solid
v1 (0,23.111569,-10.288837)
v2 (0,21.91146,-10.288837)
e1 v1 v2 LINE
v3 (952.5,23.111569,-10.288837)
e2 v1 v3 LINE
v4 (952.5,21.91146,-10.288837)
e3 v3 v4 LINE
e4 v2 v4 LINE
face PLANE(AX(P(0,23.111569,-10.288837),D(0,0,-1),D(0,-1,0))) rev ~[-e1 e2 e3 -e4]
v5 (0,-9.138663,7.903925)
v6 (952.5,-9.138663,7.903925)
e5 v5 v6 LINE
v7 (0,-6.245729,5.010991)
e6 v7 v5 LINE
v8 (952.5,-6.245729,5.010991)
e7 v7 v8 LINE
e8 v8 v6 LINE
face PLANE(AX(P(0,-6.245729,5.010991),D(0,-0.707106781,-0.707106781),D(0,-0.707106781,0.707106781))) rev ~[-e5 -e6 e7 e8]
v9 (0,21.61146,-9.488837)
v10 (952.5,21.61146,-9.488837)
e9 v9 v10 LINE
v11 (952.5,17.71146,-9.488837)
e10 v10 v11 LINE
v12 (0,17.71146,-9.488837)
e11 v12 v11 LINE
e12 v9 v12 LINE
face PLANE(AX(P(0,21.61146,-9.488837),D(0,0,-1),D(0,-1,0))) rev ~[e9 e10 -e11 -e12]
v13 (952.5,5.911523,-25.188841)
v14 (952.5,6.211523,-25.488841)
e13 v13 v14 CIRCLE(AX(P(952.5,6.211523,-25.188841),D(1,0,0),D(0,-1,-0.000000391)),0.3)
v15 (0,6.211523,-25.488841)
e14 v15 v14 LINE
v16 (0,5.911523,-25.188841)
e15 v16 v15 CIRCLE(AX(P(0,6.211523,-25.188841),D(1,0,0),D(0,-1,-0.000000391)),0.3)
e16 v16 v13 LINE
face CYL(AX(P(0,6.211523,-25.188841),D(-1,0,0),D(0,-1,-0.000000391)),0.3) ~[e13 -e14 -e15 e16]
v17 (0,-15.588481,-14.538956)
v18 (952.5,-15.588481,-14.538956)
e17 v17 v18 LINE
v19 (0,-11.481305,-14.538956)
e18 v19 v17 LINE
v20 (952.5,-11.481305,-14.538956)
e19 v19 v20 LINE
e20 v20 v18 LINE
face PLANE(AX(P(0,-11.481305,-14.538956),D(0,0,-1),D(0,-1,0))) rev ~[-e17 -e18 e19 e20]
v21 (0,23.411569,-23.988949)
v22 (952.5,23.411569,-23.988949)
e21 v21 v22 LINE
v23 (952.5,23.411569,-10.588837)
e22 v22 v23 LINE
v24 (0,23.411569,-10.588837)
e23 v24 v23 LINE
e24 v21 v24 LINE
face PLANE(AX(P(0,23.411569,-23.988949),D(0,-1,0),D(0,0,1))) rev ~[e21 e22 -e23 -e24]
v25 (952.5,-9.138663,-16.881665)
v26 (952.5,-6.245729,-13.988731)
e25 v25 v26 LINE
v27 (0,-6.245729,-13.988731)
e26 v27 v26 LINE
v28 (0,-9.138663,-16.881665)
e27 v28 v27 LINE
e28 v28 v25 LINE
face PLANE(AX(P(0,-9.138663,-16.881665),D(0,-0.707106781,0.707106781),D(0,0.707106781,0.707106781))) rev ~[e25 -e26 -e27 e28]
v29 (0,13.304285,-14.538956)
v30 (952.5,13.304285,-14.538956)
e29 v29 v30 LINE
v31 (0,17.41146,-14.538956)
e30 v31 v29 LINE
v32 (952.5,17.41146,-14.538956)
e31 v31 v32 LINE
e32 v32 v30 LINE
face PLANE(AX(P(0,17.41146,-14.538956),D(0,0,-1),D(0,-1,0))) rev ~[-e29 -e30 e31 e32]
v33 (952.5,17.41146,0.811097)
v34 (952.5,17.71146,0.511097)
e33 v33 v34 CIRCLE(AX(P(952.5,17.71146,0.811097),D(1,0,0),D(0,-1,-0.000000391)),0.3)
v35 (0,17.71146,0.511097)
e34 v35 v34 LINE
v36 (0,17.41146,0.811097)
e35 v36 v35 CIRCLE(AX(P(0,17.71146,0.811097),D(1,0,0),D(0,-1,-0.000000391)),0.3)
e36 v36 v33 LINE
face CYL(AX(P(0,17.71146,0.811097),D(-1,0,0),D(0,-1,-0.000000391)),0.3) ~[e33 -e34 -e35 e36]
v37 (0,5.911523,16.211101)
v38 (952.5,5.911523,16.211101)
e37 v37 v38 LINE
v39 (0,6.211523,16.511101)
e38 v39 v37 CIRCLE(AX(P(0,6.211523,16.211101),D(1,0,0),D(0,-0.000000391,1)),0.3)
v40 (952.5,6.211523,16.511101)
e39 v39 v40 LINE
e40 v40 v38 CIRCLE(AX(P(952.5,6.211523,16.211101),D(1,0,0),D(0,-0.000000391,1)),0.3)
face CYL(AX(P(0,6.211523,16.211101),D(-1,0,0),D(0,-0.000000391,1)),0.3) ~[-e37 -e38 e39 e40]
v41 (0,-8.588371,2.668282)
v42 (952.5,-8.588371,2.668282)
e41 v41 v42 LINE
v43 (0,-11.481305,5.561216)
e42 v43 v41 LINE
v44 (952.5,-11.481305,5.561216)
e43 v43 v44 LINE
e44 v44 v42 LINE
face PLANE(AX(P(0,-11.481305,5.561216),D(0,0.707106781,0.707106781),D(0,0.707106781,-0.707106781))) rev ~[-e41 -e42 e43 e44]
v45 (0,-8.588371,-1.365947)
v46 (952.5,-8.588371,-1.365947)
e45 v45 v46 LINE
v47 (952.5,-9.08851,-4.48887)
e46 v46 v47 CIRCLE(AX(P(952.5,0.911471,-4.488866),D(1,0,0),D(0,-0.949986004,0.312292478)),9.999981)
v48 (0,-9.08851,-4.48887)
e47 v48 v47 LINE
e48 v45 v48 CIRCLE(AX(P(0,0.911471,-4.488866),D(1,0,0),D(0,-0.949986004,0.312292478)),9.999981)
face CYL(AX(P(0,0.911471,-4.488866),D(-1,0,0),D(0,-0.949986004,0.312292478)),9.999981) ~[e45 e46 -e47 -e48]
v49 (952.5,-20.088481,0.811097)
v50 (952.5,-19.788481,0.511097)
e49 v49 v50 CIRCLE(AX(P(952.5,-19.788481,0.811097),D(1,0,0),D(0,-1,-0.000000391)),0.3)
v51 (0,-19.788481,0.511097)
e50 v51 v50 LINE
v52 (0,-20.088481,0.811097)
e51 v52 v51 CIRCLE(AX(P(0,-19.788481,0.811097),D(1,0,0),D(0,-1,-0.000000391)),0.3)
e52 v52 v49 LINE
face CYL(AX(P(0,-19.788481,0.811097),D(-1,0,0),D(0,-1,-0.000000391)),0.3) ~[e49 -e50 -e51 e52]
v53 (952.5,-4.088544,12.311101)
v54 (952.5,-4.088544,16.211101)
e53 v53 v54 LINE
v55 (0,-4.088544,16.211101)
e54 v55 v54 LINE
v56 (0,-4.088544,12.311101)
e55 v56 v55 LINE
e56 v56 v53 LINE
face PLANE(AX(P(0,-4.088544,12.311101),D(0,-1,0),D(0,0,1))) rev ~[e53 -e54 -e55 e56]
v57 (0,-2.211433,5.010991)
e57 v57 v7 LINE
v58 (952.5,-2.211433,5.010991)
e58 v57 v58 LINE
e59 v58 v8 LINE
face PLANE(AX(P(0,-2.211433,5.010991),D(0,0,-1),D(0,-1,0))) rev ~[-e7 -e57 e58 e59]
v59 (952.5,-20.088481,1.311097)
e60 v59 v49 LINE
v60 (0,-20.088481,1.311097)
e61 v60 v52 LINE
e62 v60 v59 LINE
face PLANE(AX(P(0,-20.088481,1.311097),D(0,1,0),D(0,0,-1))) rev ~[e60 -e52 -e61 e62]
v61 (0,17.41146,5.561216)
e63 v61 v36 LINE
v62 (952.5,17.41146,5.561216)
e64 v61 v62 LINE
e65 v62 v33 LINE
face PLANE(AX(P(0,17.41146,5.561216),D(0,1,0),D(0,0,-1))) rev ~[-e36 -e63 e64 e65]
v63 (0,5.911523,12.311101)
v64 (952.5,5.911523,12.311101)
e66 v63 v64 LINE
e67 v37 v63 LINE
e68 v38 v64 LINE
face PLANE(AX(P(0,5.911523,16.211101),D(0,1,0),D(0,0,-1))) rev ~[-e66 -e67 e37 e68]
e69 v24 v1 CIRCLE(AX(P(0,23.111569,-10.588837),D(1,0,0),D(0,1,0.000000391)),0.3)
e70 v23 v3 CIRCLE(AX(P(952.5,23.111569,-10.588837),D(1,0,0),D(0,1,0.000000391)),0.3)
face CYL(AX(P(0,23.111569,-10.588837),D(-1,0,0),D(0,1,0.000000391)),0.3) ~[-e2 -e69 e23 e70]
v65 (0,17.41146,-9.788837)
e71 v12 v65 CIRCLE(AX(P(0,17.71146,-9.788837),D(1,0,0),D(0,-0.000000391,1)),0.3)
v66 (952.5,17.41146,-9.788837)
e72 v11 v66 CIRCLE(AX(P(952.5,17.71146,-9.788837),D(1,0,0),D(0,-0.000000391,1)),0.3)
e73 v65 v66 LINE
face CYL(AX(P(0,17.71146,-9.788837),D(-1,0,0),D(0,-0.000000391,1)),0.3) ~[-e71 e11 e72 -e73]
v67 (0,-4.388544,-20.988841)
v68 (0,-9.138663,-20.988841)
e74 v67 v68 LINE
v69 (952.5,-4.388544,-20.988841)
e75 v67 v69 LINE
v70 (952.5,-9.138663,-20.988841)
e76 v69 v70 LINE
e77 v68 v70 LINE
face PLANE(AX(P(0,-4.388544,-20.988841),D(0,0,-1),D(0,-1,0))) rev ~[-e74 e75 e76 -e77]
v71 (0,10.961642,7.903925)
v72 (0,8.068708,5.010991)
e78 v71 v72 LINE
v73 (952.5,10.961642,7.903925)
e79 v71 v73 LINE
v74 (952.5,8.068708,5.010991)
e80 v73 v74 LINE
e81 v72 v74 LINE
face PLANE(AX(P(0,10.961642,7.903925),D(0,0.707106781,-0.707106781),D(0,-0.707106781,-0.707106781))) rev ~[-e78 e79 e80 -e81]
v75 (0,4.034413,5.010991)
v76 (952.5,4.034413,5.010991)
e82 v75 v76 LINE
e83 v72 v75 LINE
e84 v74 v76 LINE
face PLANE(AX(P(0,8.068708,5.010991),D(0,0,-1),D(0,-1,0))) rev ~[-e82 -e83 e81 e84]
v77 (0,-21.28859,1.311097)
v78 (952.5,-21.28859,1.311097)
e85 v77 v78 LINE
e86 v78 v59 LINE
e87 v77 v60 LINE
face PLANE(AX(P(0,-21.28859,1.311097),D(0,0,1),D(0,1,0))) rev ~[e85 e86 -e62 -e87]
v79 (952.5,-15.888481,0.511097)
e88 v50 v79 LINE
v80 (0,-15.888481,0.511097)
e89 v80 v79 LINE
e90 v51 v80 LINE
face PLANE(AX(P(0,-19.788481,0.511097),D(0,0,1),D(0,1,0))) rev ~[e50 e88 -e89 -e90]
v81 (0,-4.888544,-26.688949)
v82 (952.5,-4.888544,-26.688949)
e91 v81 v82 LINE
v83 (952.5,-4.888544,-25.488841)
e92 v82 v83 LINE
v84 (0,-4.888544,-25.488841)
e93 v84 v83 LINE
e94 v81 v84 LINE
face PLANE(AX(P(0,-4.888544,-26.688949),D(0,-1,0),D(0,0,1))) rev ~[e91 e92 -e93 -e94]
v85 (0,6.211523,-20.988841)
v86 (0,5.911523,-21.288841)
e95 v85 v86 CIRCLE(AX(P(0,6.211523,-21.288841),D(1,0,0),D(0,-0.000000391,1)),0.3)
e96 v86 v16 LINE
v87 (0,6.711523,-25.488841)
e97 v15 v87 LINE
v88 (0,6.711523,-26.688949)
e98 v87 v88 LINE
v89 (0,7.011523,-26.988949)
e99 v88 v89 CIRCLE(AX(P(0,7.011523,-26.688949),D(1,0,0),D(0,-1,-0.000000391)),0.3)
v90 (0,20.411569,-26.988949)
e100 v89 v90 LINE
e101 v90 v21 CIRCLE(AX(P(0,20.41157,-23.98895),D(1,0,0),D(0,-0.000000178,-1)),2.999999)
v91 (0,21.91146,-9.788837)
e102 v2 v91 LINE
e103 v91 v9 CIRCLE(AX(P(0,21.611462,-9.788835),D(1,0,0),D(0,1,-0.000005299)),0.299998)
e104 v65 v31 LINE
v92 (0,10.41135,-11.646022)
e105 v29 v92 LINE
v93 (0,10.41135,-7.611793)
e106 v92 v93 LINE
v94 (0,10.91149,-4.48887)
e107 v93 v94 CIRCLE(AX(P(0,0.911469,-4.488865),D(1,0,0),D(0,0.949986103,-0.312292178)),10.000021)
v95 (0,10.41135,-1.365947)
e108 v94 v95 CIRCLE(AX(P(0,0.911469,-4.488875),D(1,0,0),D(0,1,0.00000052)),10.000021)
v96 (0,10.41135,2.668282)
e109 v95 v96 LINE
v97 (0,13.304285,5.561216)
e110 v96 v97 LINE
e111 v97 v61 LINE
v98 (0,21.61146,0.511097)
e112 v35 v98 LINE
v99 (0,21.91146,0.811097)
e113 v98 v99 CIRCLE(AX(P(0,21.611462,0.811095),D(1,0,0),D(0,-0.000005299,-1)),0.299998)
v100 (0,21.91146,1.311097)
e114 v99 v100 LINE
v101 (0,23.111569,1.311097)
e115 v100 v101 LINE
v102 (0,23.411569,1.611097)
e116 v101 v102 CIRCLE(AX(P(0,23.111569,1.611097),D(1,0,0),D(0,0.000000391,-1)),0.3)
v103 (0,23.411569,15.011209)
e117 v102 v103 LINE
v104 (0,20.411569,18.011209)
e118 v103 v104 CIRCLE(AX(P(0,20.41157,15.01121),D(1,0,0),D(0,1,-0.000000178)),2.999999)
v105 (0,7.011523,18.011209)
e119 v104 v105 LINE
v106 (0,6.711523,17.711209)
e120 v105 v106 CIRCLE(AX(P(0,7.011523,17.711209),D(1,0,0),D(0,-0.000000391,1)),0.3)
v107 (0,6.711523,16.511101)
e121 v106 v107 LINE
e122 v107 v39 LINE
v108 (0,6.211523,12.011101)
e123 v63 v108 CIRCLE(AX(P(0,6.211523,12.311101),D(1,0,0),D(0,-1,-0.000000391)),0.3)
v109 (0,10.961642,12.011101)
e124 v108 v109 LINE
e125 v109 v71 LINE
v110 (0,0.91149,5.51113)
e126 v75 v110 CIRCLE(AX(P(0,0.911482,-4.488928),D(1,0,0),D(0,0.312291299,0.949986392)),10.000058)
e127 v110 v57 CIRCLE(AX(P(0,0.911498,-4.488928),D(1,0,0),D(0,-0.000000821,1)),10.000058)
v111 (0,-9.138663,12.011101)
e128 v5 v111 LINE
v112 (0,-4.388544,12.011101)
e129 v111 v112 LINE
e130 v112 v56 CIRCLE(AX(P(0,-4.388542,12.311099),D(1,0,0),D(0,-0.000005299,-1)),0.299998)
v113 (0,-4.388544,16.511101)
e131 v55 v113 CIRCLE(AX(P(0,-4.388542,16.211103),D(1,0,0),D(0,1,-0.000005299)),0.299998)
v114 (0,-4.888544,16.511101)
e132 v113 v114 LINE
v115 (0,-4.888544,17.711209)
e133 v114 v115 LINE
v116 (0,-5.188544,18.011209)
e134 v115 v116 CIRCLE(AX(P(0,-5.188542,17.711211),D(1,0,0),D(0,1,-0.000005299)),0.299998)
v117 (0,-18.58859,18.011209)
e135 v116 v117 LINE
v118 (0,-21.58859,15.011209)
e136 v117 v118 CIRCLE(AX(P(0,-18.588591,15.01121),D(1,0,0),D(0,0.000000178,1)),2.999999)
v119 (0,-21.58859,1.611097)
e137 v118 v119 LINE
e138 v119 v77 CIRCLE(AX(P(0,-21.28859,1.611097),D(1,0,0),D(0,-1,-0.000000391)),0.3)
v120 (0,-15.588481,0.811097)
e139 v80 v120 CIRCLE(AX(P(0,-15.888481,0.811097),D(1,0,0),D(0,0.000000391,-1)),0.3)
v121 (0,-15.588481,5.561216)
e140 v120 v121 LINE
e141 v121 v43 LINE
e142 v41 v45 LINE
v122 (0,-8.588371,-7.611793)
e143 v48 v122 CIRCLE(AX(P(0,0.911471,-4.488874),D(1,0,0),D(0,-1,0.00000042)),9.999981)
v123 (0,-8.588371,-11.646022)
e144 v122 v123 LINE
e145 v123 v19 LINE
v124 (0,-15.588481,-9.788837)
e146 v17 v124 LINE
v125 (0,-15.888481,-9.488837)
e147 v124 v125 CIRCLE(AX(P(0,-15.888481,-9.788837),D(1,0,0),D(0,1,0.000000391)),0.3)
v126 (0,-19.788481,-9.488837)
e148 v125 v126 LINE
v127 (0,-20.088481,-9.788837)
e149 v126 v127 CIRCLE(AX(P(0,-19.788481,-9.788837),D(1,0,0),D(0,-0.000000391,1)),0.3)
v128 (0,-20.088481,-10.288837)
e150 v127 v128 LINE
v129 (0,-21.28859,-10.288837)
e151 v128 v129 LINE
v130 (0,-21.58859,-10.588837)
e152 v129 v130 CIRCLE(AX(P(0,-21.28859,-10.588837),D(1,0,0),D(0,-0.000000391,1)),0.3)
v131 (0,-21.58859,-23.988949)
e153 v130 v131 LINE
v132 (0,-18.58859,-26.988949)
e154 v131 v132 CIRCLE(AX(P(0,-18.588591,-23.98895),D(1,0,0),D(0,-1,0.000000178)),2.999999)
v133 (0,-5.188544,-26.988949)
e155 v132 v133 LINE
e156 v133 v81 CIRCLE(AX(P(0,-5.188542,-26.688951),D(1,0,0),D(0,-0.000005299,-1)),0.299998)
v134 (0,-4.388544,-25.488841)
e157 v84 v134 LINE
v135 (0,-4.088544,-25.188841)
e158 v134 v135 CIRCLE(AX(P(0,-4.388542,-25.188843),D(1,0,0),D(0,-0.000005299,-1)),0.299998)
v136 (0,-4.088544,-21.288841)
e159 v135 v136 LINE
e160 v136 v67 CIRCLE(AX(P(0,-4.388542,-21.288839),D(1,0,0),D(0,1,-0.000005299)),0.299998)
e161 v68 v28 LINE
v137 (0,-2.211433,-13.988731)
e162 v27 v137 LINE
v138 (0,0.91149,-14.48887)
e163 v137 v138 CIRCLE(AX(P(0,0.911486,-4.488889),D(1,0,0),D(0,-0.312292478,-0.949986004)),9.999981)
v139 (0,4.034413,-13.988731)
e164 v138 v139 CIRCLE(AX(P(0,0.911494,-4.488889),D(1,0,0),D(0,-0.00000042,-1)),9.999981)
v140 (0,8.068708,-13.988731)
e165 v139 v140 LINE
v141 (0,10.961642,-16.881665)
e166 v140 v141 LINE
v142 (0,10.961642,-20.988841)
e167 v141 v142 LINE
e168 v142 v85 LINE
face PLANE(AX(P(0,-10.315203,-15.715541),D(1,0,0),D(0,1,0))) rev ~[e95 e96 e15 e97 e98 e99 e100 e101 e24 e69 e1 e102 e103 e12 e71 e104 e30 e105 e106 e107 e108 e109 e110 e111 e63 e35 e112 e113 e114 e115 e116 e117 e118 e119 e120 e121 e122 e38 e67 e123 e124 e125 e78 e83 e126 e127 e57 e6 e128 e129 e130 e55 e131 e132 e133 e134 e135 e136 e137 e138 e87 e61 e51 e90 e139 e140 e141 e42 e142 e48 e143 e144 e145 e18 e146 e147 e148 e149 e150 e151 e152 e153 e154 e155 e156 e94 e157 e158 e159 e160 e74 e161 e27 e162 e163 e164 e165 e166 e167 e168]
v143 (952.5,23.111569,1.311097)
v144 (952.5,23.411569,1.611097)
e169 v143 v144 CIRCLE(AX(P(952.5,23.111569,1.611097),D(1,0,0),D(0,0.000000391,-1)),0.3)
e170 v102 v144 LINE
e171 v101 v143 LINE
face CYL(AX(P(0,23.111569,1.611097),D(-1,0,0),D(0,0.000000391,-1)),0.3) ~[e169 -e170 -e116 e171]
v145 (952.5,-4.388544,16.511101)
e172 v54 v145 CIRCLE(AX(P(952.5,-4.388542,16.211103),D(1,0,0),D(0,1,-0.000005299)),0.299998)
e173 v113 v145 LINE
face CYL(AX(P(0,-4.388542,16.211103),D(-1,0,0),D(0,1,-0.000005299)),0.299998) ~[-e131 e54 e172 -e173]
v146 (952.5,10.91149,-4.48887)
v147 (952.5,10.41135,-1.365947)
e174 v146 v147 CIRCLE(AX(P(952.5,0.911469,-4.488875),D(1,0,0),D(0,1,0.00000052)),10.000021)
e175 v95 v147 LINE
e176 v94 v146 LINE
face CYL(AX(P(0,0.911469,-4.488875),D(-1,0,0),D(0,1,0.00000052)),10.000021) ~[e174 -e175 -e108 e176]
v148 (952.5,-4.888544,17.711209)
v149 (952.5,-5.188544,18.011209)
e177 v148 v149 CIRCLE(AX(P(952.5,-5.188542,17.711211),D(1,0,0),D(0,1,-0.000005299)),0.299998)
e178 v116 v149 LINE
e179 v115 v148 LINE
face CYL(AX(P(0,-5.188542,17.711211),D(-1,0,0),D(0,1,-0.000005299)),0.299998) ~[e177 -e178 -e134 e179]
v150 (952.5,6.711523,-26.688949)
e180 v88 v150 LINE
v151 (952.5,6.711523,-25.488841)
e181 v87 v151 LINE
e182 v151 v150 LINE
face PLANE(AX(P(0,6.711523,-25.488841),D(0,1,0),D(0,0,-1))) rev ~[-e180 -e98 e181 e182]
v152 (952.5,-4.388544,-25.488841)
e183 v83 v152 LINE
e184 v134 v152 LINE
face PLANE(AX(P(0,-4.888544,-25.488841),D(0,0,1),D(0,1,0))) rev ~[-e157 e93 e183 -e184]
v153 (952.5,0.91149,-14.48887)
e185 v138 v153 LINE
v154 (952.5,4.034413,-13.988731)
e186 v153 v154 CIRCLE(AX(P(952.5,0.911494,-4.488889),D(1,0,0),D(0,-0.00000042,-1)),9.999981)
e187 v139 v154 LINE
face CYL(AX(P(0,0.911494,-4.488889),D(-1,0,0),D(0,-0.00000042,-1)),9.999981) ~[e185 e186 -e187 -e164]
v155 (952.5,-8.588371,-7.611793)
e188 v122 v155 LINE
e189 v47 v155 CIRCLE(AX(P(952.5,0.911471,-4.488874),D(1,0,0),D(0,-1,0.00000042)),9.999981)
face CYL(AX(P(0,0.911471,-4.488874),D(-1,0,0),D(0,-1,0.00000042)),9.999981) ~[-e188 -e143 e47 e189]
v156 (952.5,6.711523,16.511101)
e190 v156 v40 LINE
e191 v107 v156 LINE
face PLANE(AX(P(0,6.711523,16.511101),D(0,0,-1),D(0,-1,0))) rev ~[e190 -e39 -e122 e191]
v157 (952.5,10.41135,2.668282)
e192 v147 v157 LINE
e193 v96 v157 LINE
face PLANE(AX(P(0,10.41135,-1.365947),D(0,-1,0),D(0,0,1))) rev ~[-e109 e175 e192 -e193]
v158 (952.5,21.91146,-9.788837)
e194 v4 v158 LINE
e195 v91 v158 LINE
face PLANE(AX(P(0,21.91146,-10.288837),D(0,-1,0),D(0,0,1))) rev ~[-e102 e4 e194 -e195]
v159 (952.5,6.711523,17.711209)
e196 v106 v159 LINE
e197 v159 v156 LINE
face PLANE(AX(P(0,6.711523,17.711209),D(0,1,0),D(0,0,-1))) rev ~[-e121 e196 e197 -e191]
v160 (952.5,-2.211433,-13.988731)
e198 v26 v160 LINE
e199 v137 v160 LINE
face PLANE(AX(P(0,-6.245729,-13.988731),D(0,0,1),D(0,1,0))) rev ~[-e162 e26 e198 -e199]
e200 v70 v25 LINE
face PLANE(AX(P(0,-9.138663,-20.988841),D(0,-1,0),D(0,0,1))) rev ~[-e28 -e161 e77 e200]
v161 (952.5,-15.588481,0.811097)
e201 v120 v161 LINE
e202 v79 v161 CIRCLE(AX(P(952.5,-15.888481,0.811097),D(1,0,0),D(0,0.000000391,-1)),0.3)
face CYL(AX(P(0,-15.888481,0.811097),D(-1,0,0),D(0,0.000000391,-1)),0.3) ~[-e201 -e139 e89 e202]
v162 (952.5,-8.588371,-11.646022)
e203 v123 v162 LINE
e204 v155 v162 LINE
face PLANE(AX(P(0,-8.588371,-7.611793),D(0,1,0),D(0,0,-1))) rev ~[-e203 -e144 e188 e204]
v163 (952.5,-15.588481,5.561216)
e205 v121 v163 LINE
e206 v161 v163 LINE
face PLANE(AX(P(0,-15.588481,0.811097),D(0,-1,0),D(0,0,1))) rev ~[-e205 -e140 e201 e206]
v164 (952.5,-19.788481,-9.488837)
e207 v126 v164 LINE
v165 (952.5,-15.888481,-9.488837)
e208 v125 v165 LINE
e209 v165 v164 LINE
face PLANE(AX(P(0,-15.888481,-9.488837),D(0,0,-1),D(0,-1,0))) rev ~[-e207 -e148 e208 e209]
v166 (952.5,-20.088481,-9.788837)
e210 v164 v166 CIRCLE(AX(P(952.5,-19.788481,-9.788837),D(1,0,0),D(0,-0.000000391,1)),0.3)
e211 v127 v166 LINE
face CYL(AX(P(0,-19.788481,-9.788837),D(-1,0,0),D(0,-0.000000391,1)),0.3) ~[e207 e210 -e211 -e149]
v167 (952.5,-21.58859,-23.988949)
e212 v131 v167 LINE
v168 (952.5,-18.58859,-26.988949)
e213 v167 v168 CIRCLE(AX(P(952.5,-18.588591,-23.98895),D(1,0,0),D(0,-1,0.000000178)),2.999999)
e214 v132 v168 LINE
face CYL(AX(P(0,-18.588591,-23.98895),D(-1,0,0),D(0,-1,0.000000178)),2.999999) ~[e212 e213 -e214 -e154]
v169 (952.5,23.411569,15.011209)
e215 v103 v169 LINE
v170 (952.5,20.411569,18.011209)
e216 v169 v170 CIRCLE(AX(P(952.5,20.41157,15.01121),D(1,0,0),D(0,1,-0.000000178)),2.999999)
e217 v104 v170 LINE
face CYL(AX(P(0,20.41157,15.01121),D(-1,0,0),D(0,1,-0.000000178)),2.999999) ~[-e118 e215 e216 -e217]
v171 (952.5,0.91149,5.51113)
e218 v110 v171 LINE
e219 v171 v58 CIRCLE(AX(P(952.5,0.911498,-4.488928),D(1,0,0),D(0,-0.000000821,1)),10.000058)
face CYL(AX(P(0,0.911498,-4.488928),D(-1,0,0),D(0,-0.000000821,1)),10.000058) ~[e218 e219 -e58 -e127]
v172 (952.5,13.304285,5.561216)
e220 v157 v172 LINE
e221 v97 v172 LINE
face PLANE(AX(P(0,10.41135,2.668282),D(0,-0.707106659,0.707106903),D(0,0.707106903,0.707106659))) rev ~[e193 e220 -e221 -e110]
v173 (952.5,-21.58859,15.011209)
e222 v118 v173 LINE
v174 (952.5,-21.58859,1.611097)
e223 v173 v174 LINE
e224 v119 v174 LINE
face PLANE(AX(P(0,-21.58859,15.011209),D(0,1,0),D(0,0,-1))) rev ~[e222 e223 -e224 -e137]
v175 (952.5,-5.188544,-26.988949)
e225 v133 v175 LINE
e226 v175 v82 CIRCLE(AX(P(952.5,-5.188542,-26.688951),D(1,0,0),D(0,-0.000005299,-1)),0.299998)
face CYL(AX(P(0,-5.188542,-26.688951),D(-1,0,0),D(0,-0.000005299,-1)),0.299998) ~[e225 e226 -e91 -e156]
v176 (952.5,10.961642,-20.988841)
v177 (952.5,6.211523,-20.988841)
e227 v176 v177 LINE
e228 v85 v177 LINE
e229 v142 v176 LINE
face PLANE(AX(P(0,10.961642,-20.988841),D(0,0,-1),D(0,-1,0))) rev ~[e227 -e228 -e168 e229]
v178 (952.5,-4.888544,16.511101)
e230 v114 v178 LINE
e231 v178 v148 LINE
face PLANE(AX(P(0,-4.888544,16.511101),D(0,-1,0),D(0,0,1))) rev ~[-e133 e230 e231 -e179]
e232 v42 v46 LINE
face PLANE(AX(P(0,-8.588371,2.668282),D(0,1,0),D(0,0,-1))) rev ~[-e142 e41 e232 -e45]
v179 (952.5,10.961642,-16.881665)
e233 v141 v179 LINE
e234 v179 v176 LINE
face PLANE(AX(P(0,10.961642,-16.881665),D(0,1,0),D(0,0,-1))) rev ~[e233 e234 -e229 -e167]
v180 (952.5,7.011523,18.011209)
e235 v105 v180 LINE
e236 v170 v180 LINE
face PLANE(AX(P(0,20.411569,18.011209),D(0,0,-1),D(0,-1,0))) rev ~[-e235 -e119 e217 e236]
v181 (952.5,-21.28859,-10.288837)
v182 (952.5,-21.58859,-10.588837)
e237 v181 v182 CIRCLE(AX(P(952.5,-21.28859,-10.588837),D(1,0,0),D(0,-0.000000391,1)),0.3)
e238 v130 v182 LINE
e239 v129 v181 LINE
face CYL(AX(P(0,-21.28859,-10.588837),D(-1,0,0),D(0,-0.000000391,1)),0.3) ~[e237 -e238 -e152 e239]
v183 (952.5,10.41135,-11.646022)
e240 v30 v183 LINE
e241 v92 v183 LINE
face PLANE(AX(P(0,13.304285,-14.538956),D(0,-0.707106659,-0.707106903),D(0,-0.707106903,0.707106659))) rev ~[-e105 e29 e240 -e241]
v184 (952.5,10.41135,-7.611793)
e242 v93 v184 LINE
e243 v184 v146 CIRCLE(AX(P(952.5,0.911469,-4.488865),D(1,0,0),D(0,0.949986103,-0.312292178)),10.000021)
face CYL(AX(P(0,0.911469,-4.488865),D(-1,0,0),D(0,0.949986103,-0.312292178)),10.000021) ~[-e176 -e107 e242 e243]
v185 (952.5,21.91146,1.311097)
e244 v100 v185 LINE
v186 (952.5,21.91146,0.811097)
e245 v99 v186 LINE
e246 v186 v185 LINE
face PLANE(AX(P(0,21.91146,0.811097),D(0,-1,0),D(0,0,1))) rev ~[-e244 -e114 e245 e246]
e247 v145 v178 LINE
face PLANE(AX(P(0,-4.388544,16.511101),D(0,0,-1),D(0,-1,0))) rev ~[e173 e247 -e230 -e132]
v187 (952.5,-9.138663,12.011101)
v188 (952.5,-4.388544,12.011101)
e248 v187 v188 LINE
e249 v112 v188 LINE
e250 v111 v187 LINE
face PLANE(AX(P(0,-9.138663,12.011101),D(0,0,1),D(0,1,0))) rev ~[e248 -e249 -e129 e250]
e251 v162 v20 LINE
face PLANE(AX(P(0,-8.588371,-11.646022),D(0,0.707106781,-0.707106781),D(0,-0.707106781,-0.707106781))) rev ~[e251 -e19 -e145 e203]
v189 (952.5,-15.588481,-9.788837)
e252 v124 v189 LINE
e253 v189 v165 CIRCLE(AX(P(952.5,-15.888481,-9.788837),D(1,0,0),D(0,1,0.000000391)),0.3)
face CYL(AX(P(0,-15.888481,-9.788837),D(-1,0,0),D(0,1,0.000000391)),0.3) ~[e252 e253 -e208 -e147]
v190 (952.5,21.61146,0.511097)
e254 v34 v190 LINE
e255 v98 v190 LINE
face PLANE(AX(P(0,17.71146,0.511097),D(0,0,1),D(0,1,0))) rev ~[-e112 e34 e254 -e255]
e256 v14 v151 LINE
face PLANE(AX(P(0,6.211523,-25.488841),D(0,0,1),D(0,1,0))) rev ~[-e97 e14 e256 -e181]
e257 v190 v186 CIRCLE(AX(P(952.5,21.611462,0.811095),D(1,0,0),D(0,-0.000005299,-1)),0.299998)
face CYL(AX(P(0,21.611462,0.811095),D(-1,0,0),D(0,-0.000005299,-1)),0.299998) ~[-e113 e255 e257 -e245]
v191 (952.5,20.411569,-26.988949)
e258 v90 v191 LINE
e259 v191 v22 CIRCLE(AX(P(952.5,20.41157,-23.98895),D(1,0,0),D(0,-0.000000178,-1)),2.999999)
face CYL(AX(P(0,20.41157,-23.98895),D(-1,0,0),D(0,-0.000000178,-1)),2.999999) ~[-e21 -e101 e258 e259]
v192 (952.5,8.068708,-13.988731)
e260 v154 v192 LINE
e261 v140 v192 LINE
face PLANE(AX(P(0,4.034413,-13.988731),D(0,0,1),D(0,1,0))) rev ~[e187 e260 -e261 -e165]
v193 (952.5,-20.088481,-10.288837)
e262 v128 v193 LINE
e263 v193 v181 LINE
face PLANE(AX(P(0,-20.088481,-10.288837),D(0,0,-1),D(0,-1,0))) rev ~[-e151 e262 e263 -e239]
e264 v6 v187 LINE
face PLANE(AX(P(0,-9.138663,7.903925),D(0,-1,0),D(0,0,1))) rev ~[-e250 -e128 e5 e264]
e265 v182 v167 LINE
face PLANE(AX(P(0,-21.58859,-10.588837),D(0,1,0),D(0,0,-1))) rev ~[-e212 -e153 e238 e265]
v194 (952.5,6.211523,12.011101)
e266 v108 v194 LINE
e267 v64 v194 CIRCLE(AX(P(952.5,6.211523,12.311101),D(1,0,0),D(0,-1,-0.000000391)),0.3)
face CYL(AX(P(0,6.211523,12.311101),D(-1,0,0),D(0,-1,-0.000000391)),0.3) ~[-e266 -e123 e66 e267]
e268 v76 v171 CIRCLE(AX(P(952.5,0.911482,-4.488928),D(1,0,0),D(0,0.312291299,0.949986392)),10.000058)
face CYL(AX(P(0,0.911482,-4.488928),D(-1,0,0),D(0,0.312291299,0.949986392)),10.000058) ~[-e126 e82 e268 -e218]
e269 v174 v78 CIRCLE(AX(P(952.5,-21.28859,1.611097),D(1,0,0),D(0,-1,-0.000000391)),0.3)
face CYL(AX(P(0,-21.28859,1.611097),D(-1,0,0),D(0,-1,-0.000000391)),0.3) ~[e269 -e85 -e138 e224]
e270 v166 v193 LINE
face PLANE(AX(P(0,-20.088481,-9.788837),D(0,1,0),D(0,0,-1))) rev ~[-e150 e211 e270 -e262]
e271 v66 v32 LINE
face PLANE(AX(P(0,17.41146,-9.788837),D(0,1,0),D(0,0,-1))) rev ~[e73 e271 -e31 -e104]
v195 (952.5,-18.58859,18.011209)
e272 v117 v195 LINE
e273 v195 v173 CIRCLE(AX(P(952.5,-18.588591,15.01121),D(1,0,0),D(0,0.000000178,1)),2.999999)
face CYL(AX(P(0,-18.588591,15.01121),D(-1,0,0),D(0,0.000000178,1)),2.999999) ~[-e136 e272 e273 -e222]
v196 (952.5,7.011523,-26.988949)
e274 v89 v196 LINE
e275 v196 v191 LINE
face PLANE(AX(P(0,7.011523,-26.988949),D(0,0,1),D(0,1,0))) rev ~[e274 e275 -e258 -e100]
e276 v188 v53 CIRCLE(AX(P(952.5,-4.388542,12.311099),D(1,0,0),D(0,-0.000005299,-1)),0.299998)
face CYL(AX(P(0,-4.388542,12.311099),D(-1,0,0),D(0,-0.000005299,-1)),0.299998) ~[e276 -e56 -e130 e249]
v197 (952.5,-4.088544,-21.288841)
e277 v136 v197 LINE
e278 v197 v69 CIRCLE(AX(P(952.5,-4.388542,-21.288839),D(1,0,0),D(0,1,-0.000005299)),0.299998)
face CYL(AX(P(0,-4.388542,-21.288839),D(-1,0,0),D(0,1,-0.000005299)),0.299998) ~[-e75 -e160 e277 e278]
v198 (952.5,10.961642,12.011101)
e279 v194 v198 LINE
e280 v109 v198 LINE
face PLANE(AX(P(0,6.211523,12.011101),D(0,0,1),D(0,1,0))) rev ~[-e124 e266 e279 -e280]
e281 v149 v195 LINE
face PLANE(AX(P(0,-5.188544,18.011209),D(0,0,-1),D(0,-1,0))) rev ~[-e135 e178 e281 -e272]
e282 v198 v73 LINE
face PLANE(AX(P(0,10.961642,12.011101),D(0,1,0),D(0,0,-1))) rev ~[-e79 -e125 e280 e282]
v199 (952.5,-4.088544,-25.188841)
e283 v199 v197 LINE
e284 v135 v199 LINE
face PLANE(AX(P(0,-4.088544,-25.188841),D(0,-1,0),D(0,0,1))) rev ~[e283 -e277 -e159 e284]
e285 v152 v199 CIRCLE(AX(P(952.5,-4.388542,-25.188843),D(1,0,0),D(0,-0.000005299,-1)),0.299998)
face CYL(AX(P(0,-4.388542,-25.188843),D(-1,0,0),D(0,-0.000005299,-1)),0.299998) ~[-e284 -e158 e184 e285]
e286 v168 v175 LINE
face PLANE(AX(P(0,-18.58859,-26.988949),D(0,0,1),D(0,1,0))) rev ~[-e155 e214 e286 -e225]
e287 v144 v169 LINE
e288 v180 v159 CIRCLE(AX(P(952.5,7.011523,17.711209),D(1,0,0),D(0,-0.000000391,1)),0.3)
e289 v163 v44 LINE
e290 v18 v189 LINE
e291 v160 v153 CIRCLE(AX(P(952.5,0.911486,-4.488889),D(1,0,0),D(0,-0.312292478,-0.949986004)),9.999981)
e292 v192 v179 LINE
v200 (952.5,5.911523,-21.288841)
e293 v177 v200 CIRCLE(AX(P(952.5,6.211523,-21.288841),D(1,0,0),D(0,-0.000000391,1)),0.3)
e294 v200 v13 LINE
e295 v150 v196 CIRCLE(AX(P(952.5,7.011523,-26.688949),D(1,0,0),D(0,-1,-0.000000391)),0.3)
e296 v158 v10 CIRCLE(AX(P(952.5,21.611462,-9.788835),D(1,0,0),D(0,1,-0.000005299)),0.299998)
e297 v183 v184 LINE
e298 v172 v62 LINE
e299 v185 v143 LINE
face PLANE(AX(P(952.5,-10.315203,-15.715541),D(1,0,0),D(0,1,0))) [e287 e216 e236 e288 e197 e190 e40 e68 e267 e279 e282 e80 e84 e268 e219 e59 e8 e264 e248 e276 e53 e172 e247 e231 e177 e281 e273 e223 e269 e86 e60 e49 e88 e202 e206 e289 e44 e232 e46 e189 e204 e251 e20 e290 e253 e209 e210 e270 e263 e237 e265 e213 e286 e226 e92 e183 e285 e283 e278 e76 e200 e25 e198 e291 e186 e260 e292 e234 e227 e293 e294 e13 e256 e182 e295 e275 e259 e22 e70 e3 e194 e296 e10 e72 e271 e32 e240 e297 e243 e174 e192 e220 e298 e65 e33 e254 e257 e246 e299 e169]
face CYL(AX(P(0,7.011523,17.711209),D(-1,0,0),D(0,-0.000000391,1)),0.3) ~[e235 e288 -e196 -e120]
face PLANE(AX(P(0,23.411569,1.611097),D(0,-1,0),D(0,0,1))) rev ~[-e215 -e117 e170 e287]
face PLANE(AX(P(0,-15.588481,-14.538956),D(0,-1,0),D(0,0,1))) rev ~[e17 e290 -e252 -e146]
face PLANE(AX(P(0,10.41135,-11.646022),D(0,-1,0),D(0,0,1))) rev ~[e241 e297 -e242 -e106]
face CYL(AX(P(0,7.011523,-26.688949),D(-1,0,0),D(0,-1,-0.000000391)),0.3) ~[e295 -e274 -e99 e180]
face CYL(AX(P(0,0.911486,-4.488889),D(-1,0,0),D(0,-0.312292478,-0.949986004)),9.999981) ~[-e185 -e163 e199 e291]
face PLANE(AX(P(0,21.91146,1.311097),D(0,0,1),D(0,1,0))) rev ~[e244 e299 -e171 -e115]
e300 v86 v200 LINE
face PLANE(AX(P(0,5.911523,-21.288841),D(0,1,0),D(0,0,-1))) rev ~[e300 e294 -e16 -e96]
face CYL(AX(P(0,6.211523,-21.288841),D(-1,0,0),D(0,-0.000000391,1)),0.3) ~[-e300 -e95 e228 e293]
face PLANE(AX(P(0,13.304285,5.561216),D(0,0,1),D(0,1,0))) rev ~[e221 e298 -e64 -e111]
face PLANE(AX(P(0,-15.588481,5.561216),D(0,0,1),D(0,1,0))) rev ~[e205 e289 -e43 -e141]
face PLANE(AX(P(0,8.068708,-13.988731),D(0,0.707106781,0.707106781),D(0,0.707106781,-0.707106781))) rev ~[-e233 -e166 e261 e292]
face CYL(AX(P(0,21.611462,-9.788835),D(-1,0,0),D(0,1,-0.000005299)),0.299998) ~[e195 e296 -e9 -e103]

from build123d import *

# Parameters (mm, degrees)
F1_DEPTH = 952.5


with BuildPart() as f1:
    # F0 (on Right) → F1 (new body)
    with BuildSketch(Plane.YZ):
        with BuildLine():
            Line((-20.088481, -9.788837), (-20.088481, -10.288837))
            Line((-20.088481, -10.288837), (-21.28859, -10.288837))
            ThreePointArc((-21.28859, -10.288837), (-21.500722, -10.376705), (-21.58859, -10.588837))
            Line((-21.58859, -10.588837), (-21.58859, -23.988949))
            ThreePointArc((-21.58859, -23.988949), (-20.70991, -26.11027), (-18.58859, -26.988949))
            Line((-18.58859, -26.988949), (-5.188544, -26.988949))
            ThreePointArc((-5.188544, -26.988949), (-4.976411, -26.901081), (-4.888544, -26.688949))
            Line((-4.888544, -26.688949), (-4.888544, -25.488841))
            Line((-4.888544, -25.488841), (-4.388544, -25.488841))
            ThreePointArc((-4.388544, -25.488841), (-4.176411, -25.400973), (-4.088544, -25.188841))
            Line((-4.088544, -25.188841), (-4.088544, -21.288841))
            ThreePointArc((-4.088544, -21.288841), (-4.176411, -21.076709), (-4.388544, -20.988841))
            Line((-4.388544, -20.988841), (-9.138663, -20.988841))
            Line((-9.138663, -20.988841), (-9.138663, -16.881665))
            Line((-9.138663, -16.881665), (-6.245729, -13.988731))
            Line((-6.245729, -13.988731), (-2.211433, -13.988731))
            ThreePointArc((-2.211433, -13.988731), (-0.669869, -14.363044), (0.91149, -14.48887))
            Line((0.91149, -14.48887), (0.91149, -4.48887))
            Line((0.91149, -4.48887), (-9.08851, -4.48887))
            ThreePointArc((-9.08851, -4.48887), (-8.962684, -6.070229), (-8.588371, -7.611793))
            Line((-8.588371, -7.611793), (-8.588371, -11.646022))
            Line((-8.588371, -11.646022), (-11.481305, -14.538956))
            Line((-11.481305, -14.538956), (-15.588481, -14.538956))
            Line((-15.588481, -14.538956), (-15.588481, -9.788837))
            ThreePointArc((-15.588481, -9.788837), (-15.676349, -9.576705), (-15.888481, -9.488837))
            Line((-15.888481, -9.488837), (-19.788481, -9.488837))
            ThreePointArc((-19.788481, -9.488837), (-20.000613, -9.576705), (-20.088481, -9.788837))
        make_face()
        with BuildLine():
            ThreePointArc((-8.588371, -1.365947), (-8.962684, -2.907511), (-9.08851, -4.48887))
            Line((-9.08851, -4.48887), (0.91149, -4.48887))
            Line((0.91149, -4.48887), (0.91149, 5.51113))
            ThreePointArc((0.91149, 5.51113), (-0.669869, 5.385303), (-2.211433, 5.010991))
            Line((-2.211433, 5.010991), (-6.245729, 5.010991))
            Line((-6.245729, 5.010991), (-9.138663, 7.903925))
            Line((-9.138663, 7.903925), (-9.138663, 12.011101))
            Line((-9.138663, 12.011101), (-4.388544, 12.011101))
            ThreePointArc((-4.388544, 12.011101), (-4.176411, 12.098969), (-4.088544, 12.311101))
            Line((-4.088544, 12.311101), (-4.088544, 16.211101))
            ThreePointArc((-4.088544, 16.211101), (-4.176411, 16.423233), (-4.388544, 16.511101))
            Line((-4.388544, 16.511101), (-4.888544, 16.511101))
            Line((-4.888544, 16.511101), (-4.888544, 17.711209))
            ThreePointArc((-4.888544, 17.711209), (-4.976411, 17.923341), (-5.188544, 18.011209))
            Line((-5.188544, 18.011209), (-18.58859, 18.011209))
            ThreePointArc((-18.58859, 18.011209), (-20.70991, 17.13253), (-21.58859, 15.011209))
            Line((-21.58859, 15.011209), (-21.58859, 1.611097))
            ThreePointArc((-21.58859, 1.611097), (-21.500722, 1.398965), (-21.28859, 1.311097))
            Line((-21.28859, 1.311097), (-20.088481, 1.311097))
            Line((-20.088481, 1.311097), (-20.088481, 0.811097))
            ThreePointArc((-20.088481, 0.811097), (-20.000613, 0.598965), (-19.788481, 0.511097))
            Line((-19.788481, 0.511097), (-15.888481, 0.511097))
            ThreePointArc((-15.888481, 0.511097), (-15.676349, 0.598965), (-15.588481, 0.811097))
            Line((-15.588481, 0.811097), (-15.588481, 5.561216))
            Line((-15.588481, 5.561216), (-11.481305, 5.561216))
            Line((-11.481305, 5.561216), (-8.588371, 2.668282))
            Line((-8.588371, 2.668282), (-8.588371, -1.365947))
        make_face()
        with BuildLine():
            Line((0.91149, 5.51113), (0.91149, -4.48887))
            Line((0.91149, -4.48887), (10.91149, -4.48887))
            ThreePointArc((10.91149, -4.48887), (10.785663, -2.907511), (10.41135, -1.365947))
            Line((10.41135, -1.365947), (10.41135, 2.668282))
            Line((10.41135, 2.668282), (13.304285, 5.561216))
            Line((13.304285, 5.561216), (14.016842, 5.561216))
            Line((14.016842, 5.561216), (17.41146, 5.561216))
            Line((17.41146, 5.561216), (17.41146, 0.811097))
            ThreePointArc((17.41146, 0.811097), (17.499328, 0.598965), (17.71146, 0.511097))
            Line((17.71146, 0.511097), (21.61146, 0.511097))
            ThreePointArc((21.61146, 0.511097), (21.823593, 0.598965), (21.91146, 0.811097))
            Line((21.91146, 0.811097), (21.91146, 1.311097))
            Line((21.91146, 1.311097), (23.111569, 1.311097))
            ThreePointArc((23.111569, 1.311097), (23.323701, 1.398965), (23.411569, 1.611097))
            Line((23.411569, 1.611097), (23.411569, 15.011209))
            ThreePointArc((23.411569, 15.011209), (22.532889, 17.13253), (20.411569, 18.011209))
            Line((20.411569, 18.011209), (7.011523, 18.011209))
            ThreePointArc((7.011523, 18.011209), (6.799391, 17.923341), (6.711523, 17.711209))
            Line((6.711523, 17.711209), (6.711523, 16.511101))
            Line((6.711523, 16.511101), (6.211523, 16.511101))
            ThreePointArc((6.211523, 16.511101), (5.999391, 16.423233), (5.911523, 16.211101))
            Line((5.911523, 16.211101), (5.911523, 12.311101))
            ThreePointArc((5.911523, 12.311101), (5.999391, 12.098969), (6.211523, 12.011101))
            Line((6.211523, 12.011101), (10.961642, 12.011101))
            Line((10.961642, 12.011101), (10.961642, 7.903925))
            Line((10.961642, 7.903925), (8.068708, 5.010991))
            Line((8.068708, 5.010991), (4.034413, 5.010991))
            ThreePointArc((4.034413, 5.010991), (2.492849, 5.385303), (0.91149, 5.51113))
        make_face()
        with BuildLine():
            Line((10.91149, -4.48887), (0.91149, -4.48887))
            Line((0.91149, -4.48887), (0.91149, -14.48887))
            ThreePointArc((0.91149, -14.48887), (2.492849, -14.363044), (4.034413, -13.988731))
            Line((4.034413, -13.988731), (8.068708, -13.988731))
            Line((8.068708, -13.988731), (10.961642, -16.881665))
            Line((10.961642, -16.881665), (10.961642, -20.988841))
            Line((10.961642, -20.988841), (6.211523, -20.988841))
            ThreePointArc((6.211523, -20.988841), (5.999391, -21.076709), (5.911523, -21.288841))
            Line((5.911523, -21.288841), (5.911523, -25.188841))
            ThreePointArc((5.911523, -25.188841), (5.999391, -25.400973), (6.211523, -25.488841))
            Line((6.211523, -25.488841), (6.711523, -25.488841))
            Line((6.711523, -25.488841), (6.711523, -26.688949))
            ThreePointArc((6.711523, -26.688949), (6.799391, -26.901081), (7.011523, -26.988949))
            Line((7.011523, -26.988949), (20.411569, -26.988949))
            ThreePointArc((20.411569, -26.988949), (22.532889, -26.11027), (23.411569, -23.988949))
            Line((23.411569, -23.988949), (23.411569, -10.588837))
            ThreePointArc((23.411569, -10.588837), (23.323701, -10.376705), (23.111569, -10.288837))
            Line((23.111569, -10.288837), (21.91146, -10.288837))
            Line((21.91146, -10.288837), (21.91146, -9.788837))
            ThreePointArc((21.91146, -9.788837), (21.823593, -9.576705), (21.61146, -9.488837))
            Line((21.61146, -9.488837), (17.71146, -9.488837))
            ThreePointArc((17.71146, -9.488837), (17.499328, -9.576705), (17.41146, -9.788837))
            Line((17.41146, -9.788837), (17.41146, -14.538956))
            Line((17.41146, -14.538956), (13.304285, -14.538956))
            Line((13.304285, -14.538956), (10.41135, -11.646022))
            Line((10.41135, -11.646022), (10.41135, -7.611793))
            ThreePointArc((10.41135, -7.611793), (10.785663, -6.070229), (10.91149, -4.48887))
        make_face()
    extrude(amount=F1_DEPTH)


solid = f1.part
